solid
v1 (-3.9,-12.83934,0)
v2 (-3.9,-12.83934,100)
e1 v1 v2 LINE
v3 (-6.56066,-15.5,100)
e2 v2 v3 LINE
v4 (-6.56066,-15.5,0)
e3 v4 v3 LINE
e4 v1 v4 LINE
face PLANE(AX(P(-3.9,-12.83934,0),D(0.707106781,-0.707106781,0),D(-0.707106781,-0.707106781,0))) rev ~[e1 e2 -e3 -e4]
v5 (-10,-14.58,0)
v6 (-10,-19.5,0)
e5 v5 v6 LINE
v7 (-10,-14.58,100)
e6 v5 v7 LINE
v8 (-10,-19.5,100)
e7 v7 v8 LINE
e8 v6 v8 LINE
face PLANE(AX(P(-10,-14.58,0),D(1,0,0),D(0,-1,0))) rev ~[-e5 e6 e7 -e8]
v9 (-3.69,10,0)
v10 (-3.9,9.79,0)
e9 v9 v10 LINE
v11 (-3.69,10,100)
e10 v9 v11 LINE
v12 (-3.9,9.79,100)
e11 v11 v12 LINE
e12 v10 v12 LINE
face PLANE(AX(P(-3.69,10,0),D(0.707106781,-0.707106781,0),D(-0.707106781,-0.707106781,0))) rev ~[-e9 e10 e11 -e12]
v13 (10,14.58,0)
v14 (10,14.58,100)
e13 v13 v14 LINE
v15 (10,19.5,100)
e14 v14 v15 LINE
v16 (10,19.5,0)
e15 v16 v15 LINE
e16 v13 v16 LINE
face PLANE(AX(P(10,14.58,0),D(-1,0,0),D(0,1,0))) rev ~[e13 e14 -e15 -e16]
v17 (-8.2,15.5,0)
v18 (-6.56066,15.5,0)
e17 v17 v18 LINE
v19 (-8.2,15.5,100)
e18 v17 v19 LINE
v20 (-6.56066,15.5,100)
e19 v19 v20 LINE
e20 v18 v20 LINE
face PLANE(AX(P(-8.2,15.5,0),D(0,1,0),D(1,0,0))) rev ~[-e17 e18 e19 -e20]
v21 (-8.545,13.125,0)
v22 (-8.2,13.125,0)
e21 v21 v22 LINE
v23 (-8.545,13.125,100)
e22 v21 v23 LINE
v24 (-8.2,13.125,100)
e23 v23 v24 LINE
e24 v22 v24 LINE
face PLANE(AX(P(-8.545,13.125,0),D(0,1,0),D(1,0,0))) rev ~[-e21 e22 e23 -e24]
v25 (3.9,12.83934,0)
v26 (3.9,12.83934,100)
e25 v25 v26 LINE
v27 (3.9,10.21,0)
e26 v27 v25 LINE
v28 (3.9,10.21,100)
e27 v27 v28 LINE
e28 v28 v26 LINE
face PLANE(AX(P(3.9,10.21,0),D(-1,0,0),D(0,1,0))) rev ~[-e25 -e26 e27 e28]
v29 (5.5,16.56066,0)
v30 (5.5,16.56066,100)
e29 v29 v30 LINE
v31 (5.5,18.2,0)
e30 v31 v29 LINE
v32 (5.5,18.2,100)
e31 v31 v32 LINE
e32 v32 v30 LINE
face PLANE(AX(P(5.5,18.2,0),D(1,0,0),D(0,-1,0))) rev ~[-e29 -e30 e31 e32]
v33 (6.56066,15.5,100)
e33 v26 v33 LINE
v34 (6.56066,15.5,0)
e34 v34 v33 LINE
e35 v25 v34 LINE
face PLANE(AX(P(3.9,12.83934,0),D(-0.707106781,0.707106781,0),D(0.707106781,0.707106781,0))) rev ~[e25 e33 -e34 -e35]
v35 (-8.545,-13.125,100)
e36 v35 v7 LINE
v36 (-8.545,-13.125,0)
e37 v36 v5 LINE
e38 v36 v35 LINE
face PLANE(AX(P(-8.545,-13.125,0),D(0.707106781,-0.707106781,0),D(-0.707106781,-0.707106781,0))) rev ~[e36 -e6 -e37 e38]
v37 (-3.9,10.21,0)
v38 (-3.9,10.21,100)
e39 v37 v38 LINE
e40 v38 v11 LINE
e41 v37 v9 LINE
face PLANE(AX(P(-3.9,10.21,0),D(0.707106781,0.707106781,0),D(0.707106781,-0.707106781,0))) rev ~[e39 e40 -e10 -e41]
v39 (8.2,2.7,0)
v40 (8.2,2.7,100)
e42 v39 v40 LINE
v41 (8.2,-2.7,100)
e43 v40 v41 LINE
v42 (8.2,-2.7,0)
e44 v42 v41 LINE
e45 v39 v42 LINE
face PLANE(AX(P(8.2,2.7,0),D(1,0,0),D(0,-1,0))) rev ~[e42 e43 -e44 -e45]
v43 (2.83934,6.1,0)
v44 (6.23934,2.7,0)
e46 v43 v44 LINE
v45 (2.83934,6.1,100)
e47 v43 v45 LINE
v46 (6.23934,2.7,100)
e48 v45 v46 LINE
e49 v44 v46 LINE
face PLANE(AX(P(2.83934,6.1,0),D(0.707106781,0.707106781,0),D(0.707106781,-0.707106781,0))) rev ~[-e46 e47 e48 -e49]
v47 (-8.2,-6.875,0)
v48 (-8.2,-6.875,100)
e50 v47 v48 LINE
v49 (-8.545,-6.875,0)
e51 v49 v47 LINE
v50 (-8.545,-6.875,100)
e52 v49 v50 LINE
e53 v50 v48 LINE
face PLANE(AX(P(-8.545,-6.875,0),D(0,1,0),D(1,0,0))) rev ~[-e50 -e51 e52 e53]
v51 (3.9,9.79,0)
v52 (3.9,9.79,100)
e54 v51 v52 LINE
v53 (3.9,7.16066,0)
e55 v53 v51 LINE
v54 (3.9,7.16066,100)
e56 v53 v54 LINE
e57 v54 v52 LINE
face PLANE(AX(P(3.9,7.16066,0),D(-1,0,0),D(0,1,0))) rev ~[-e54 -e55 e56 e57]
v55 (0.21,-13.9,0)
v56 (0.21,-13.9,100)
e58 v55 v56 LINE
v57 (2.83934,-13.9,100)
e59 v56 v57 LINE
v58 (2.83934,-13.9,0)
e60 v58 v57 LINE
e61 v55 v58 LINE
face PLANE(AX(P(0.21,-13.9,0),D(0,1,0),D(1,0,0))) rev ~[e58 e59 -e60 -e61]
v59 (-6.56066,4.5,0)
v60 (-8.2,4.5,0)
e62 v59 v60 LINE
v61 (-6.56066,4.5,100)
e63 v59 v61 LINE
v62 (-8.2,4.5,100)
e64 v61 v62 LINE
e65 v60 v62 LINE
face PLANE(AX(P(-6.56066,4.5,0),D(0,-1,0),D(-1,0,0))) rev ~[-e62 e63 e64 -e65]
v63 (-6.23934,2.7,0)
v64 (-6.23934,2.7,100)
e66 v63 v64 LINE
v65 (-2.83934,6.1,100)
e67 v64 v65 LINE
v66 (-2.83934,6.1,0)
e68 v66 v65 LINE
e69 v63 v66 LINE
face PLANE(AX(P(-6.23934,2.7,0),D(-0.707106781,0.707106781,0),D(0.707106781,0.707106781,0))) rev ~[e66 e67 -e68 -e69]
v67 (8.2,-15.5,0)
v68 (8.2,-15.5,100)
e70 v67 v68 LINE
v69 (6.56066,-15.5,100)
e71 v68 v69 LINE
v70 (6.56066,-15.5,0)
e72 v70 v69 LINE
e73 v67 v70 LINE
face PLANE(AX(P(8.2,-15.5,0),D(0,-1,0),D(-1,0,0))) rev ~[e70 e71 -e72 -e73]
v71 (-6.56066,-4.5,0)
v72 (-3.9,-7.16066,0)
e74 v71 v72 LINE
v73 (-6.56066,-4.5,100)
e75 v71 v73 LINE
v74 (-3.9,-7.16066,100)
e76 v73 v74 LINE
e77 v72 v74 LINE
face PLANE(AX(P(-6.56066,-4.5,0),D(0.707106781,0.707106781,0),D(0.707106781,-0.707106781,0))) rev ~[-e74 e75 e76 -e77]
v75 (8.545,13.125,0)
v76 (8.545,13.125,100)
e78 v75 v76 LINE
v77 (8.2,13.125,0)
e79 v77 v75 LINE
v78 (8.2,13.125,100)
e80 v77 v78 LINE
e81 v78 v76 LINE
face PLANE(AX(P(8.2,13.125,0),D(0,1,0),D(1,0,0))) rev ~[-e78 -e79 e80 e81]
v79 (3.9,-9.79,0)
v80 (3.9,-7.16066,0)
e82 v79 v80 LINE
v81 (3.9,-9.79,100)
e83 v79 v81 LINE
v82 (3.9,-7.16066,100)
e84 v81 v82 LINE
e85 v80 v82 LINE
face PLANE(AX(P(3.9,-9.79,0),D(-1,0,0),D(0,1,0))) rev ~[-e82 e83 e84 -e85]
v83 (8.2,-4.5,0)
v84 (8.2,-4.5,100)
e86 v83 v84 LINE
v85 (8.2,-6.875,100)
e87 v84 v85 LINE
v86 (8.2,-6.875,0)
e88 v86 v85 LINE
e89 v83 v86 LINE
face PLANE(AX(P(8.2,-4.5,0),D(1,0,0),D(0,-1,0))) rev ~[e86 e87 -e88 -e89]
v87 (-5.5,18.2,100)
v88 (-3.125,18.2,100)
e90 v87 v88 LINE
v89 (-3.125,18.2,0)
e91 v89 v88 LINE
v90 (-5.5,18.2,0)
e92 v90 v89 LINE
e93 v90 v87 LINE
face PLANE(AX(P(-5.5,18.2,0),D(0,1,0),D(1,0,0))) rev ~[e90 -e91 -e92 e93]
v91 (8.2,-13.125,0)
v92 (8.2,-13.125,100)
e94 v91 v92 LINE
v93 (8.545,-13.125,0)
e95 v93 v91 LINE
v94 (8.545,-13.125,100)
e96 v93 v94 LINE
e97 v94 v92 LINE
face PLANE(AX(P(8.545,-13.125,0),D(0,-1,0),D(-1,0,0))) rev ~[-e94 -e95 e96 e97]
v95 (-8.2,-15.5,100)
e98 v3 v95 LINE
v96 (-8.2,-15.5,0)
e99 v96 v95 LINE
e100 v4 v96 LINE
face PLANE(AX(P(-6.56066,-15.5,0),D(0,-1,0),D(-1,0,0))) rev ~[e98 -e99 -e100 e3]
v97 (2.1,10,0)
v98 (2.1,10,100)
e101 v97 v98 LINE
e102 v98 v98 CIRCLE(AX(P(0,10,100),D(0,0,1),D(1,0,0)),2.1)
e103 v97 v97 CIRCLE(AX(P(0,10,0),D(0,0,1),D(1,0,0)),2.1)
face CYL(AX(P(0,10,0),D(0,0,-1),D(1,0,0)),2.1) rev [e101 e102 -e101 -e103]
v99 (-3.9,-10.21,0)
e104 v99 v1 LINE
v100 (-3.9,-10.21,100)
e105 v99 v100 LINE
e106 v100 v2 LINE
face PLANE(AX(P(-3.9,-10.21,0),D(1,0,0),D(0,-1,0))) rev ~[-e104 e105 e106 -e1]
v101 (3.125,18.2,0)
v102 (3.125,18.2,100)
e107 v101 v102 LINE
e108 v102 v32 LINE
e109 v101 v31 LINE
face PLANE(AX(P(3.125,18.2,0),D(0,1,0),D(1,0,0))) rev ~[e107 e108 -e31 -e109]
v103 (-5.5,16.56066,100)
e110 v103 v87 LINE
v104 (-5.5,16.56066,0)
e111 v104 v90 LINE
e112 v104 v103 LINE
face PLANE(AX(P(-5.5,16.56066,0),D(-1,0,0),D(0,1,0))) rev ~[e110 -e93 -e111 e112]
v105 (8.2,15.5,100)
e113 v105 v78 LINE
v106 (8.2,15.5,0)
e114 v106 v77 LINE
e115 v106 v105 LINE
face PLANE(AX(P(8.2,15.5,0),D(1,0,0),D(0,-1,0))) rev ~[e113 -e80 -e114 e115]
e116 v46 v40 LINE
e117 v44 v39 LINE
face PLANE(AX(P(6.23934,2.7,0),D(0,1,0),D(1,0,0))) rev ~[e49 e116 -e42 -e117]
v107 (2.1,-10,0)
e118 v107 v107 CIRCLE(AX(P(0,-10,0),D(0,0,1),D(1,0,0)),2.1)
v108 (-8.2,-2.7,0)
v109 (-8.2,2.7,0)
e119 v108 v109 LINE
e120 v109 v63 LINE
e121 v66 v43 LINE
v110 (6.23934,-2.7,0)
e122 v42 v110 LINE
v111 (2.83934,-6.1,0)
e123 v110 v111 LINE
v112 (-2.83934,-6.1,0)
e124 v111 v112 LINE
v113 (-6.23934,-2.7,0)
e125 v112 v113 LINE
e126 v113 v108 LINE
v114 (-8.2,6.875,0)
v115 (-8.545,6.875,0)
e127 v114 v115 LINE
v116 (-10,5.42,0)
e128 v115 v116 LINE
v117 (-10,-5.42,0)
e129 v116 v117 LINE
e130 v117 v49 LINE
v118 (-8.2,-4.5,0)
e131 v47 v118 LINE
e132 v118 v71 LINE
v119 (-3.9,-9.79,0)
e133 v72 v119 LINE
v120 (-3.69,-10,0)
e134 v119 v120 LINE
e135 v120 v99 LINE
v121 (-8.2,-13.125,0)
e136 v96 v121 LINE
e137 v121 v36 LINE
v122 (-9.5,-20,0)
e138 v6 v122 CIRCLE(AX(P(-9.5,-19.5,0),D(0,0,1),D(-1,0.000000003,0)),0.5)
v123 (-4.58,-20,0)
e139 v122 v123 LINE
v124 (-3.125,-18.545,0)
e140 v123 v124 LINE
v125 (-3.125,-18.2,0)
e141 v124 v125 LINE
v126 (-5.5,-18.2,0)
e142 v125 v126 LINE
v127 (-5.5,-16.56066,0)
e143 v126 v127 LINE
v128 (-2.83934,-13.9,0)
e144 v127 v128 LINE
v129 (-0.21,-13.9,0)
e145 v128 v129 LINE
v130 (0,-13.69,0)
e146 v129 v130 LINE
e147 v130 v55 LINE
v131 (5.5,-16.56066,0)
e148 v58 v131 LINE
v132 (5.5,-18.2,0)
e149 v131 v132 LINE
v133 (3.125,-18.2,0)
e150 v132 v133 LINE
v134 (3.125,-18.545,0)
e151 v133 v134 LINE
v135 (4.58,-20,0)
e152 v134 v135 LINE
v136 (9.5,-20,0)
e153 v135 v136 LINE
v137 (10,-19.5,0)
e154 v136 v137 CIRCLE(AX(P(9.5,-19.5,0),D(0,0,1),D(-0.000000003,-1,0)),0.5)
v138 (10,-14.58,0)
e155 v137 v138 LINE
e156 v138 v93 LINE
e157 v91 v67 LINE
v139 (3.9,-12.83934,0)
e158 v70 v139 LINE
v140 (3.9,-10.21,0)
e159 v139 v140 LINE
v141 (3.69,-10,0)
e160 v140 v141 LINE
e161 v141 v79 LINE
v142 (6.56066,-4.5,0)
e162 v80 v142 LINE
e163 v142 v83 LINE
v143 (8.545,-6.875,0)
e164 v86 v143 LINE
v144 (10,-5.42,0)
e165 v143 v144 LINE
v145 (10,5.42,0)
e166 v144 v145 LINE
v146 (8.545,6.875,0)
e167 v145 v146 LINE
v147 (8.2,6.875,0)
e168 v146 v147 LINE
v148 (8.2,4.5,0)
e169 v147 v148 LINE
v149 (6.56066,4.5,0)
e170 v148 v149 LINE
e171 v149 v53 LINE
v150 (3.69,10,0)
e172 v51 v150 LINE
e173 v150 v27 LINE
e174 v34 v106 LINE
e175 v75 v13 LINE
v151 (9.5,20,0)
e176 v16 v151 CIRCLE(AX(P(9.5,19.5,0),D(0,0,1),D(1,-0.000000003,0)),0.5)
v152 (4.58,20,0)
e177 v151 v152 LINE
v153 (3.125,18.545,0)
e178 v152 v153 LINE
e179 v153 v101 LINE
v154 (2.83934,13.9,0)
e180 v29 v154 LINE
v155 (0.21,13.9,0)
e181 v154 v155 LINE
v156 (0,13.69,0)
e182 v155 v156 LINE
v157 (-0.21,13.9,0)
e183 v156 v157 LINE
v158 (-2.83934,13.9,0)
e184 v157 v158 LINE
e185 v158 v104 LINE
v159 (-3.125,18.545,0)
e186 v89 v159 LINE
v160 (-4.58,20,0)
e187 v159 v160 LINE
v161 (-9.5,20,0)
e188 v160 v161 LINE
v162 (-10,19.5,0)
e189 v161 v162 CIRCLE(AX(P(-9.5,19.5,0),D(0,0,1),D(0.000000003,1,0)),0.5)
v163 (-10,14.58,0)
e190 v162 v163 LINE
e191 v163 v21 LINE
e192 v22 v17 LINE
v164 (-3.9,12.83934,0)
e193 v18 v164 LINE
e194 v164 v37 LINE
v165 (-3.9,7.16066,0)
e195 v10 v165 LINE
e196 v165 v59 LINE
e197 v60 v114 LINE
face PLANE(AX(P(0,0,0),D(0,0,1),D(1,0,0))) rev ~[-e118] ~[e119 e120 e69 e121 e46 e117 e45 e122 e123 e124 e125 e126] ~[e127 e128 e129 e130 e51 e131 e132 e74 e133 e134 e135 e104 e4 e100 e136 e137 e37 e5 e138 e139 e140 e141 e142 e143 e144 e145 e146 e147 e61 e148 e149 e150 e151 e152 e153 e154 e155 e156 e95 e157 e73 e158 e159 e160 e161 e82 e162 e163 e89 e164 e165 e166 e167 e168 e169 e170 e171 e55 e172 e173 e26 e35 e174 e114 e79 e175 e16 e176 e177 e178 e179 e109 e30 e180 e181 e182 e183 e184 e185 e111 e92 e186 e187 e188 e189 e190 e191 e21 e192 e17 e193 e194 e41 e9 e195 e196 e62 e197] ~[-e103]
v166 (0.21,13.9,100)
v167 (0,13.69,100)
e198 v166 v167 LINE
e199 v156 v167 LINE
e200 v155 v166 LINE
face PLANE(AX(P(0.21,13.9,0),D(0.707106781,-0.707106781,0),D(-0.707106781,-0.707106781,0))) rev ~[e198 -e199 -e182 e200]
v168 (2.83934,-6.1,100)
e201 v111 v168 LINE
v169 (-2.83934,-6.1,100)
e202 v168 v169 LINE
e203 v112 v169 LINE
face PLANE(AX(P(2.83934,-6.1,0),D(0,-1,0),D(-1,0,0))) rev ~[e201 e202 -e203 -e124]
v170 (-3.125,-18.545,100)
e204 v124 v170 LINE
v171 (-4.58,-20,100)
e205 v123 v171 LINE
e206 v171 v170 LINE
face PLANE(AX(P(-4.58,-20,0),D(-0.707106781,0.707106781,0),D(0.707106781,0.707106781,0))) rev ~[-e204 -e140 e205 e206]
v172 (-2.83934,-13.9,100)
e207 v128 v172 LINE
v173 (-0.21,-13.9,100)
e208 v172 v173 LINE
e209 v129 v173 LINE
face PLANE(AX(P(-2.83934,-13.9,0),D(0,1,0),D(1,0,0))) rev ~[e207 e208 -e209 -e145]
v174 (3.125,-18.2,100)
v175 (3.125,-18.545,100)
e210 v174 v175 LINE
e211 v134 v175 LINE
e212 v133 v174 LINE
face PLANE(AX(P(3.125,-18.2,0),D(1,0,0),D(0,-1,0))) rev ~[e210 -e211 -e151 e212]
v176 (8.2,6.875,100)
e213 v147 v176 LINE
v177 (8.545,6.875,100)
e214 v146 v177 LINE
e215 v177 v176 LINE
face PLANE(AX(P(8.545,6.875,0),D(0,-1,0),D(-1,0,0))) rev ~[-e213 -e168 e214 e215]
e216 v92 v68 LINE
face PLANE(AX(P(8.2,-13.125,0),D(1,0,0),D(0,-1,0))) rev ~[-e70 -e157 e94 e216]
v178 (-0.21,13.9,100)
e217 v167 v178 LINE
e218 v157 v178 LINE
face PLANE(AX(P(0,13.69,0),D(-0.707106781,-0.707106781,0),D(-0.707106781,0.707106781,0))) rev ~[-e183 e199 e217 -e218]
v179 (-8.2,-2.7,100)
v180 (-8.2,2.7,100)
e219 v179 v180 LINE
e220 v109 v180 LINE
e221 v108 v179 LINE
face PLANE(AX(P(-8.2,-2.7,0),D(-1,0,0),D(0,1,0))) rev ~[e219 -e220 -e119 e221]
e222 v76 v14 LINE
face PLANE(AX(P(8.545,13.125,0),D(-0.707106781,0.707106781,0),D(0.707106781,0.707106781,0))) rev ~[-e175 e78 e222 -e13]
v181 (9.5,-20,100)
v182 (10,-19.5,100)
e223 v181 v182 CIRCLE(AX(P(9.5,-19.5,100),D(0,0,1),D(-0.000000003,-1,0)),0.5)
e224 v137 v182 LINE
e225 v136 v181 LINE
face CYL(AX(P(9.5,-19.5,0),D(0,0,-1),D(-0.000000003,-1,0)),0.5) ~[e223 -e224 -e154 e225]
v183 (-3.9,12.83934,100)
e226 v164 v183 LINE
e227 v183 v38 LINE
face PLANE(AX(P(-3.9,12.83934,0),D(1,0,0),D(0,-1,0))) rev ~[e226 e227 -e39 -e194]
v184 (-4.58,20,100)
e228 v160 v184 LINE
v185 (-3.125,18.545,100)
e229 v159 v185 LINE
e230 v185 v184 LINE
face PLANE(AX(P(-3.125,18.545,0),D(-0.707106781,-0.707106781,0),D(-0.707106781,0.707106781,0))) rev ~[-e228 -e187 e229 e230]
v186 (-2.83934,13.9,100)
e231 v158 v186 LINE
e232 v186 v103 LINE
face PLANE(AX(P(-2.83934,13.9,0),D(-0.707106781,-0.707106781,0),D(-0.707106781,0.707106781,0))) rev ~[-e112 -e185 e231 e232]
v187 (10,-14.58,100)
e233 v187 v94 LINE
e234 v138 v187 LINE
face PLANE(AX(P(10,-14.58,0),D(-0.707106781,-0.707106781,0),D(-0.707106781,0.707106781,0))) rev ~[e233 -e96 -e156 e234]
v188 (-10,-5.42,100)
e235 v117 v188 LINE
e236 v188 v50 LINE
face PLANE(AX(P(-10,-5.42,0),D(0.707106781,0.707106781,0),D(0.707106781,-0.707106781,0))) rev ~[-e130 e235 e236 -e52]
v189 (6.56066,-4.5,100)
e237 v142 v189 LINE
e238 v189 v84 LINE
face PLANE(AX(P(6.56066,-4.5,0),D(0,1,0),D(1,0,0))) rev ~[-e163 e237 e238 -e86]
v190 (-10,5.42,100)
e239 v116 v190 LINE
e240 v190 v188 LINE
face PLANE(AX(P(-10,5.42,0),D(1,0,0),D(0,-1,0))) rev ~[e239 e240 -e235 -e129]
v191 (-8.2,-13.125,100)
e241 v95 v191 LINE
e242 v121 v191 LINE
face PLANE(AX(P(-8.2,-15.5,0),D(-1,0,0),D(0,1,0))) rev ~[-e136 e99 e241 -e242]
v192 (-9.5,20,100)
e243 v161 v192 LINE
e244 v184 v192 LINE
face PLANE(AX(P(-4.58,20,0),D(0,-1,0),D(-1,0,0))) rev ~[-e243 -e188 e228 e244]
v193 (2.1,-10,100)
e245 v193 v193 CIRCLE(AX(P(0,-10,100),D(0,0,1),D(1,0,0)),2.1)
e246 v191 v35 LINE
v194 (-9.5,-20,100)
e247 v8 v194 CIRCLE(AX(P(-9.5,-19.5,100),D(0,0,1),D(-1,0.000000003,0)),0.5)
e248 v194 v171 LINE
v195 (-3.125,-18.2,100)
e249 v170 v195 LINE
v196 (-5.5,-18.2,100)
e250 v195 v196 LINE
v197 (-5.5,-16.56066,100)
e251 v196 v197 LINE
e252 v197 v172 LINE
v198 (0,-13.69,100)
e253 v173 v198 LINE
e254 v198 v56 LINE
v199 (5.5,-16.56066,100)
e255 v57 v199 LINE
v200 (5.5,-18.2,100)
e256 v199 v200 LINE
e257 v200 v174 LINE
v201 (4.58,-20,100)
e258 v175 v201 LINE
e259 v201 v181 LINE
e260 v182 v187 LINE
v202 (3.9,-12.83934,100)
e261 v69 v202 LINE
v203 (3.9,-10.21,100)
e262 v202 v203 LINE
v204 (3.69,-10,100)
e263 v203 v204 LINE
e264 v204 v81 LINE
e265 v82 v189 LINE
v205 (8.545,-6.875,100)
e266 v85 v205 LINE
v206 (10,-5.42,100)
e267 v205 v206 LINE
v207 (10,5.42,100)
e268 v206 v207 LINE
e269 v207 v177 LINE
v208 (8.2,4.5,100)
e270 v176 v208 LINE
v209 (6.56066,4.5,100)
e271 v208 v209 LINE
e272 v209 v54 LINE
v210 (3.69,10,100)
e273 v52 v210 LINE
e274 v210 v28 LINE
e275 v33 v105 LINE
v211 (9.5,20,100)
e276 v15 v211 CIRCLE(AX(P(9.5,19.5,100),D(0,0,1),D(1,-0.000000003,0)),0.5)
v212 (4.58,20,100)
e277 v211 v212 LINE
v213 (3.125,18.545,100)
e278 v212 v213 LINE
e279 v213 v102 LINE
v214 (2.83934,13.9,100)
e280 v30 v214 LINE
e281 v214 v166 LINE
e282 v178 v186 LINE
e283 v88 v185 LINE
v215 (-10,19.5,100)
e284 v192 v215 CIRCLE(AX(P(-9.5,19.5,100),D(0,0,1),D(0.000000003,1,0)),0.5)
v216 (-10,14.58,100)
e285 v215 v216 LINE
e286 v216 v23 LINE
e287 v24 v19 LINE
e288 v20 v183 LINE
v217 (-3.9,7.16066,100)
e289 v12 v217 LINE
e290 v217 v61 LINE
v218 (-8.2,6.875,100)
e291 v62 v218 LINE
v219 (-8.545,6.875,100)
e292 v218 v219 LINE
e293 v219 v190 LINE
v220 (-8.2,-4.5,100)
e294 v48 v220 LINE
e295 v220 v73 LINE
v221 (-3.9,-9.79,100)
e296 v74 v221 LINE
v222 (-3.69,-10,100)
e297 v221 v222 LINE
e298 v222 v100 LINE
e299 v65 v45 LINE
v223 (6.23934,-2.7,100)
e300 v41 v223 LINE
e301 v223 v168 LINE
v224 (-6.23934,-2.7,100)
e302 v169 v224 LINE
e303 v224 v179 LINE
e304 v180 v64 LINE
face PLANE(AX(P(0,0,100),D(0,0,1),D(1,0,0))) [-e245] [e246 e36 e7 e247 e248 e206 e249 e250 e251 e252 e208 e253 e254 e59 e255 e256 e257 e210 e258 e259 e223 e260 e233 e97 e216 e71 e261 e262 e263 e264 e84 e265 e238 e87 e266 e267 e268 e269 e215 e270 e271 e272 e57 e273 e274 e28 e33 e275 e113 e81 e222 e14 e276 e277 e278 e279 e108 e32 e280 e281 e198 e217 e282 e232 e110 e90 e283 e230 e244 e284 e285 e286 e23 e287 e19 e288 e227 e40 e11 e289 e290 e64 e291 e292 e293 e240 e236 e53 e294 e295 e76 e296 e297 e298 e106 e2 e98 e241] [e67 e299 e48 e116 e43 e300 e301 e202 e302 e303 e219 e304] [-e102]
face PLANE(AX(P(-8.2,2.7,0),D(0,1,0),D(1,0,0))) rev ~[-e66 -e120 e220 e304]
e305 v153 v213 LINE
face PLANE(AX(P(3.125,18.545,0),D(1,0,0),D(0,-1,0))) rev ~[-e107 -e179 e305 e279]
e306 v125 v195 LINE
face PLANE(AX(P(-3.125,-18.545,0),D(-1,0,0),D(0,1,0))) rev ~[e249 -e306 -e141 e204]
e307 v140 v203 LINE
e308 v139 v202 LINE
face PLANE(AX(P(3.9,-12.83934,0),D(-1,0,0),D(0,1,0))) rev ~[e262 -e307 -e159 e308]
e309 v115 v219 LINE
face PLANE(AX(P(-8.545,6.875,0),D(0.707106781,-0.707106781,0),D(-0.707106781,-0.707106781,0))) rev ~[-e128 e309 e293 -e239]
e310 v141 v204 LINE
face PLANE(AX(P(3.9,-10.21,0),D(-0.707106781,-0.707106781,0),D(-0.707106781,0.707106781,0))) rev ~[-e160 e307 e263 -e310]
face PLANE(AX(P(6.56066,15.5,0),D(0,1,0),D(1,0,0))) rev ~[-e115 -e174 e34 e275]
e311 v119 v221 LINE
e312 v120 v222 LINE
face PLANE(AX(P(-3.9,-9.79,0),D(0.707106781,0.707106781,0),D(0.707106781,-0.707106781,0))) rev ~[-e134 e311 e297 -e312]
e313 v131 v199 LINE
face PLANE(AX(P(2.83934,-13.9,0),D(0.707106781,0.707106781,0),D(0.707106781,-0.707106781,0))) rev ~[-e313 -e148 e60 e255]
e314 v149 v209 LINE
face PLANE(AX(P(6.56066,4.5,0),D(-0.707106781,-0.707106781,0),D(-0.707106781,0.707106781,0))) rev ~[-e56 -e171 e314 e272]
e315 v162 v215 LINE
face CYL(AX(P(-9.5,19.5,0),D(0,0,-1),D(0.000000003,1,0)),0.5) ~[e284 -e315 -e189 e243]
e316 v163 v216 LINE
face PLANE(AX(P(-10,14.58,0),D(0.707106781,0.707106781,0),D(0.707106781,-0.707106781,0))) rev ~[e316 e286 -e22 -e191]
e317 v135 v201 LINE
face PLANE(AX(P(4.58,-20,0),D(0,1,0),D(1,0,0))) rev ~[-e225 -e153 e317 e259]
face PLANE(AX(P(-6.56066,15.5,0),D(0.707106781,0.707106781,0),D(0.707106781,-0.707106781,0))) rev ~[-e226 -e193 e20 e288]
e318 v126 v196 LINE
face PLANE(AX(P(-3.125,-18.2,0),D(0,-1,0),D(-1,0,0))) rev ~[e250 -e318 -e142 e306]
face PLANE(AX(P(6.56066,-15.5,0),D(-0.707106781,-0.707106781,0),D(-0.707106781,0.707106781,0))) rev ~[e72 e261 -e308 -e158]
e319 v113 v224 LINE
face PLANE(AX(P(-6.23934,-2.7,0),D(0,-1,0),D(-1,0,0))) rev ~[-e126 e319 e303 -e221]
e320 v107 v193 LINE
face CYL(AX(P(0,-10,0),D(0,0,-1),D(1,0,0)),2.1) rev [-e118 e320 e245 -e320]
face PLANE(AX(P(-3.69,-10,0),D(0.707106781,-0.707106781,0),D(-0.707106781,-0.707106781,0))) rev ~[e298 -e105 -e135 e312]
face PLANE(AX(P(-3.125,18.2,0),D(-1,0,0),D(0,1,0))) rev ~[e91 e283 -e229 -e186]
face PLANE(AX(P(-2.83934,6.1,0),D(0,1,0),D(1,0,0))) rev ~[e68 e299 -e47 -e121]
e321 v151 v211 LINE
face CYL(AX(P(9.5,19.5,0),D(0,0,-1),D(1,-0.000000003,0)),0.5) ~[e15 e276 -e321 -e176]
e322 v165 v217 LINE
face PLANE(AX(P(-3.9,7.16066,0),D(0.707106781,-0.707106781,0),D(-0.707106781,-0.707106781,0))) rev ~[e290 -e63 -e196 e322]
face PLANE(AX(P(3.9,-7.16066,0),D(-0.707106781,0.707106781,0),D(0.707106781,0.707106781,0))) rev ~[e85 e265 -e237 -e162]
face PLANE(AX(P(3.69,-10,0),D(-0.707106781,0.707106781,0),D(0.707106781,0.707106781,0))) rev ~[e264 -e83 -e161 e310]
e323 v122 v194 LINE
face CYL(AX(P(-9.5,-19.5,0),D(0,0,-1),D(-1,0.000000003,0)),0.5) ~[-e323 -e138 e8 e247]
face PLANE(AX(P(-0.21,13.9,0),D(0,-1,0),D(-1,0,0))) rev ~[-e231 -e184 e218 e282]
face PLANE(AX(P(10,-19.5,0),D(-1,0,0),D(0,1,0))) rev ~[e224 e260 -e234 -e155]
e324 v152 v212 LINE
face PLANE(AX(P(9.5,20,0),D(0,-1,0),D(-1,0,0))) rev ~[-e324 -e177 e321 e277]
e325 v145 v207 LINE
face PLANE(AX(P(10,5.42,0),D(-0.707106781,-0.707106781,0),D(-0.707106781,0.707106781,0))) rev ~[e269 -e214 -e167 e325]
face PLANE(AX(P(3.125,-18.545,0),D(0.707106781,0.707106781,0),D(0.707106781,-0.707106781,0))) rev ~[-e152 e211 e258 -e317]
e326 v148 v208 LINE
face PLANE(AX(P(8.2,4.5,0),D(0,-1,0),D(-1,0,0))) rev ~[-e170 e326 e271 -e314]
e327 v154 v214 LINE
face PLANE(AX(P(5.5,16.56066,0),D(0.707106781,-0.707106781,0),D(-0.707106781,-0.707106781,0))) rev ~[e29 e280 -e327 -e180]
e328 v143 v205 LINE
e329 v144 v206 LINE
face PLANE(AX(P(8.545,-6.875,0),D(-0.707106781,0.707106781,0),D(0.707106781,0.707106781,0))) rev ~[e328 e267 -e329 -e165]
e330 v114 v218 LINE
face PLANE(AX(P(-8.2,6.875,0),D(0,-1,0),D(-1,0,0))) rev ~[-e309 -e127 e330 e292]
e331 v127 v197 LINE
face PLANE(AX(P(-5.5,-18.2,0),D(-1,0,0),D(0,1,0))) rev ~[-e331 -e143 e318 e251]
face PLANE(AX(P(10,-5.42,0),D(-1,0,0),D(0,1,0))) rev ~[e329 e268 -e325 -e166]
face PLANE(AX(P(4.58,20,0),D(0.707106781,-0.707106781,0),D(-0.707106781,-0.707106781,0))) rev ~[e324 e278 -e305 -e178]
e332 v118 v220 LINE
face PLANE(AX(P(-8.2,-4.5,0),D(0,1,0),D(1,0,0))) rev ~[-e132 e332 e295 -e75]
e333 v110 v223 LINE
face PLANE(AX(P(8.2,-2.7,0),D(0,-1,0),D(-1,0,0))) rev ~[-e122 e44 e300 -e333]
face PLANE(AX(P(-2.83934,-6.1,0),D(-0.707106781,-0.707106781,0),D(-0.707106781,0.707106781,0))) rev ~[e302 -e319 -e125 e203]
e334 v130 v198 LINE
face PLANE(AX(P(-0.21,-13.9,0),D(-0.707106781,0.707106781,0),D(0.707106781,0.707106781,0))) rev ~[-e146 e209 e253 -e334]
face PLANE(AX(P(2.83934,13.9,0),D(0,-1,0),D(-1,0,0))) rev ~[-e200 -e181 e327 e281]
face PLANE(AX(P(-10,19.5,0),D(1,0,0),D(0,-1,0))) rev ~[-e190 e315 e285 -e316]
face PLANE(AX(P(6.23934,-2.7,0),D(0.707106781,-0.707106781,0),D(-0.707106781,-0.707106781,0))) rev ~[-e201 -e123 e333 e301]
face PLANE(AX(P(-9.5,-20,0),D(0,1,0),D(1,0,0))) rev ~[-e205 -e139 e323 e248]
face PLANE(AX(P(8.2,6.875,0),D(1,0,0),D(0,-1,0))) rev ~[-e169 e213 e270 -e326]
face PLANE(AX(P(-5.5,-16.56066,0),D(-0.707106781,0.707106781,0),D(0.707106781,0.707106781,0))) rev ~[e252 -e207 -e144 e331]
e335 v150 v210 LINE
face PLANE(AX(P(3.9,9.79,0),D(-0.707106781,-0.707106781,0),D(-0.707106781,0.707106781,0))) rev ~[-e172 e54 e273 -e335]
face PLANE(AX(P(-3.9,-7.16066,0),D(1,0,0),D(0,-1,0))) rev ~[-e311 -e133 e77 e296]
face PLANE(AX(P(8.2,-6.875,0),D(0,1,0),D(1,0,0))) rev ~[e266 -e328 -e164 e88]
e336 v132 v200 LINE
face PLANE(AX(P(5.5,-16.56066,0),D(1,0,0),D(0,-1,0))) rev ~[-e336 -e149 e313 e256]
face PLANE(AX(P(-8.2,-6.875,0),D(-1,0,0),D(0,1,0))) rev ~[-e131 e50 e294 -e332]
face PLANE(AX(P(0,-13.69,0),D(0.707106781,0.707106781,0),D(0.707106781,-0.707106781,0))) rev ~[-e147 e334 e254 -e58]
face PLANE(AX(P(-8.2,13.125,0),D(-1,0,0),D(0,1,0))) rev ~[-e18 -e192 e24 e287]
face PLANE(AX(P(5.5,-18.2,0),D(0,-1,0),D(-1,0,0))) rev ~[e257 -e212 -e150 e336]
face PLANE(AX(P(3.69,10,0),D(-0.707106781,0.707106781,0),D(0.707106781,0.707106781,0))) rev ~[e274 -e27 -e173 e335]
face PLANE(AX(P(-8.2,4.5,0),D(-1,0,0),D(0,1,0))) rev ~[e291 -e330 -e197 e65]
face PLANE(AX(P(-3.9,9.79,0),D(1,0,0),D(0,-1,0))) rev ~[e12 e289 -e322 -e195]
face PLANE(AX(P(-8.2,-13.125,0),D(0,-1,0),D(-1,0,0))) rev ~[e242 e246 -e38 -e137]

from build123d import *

# Parameters (mm, degrees)
SKETCH1_R           = 2.1
BOSS_EXTRUDE1_DEPTH = 100


with BuildPart() as part:
    # Sketch1 → Boss-Extrude1 (new body)
    with BuildSketch(Plane.XY):
        with BuildLine():
            Line((4.58, -20), (9.5, -20))
            ThreePointArc((9.5, -20), (9.853553391, -19.853553391), (10, -19.5))
            Line((10, -19.5), (10, -14.58))
            Line((10, -14.58), (8.545, -13.125))
            Line((8.545, -13.125), (8.2, -13.125))
            Line((8.2, -13.125), (8.2, -15.5))
            Line((8.2, -15.5), (6.560660172, -15.5))
            Line((6.560660172, -15.5), (3.9, -12.839339828))
            Line((3.9, -12.839339828), (3.9, -10.21))
            Line((3.9, -10.21), (3.69, -10))
            Line((3.69, -10), (3.9, -9.79))
            Line((3.9, -9.79), (3.9, -7.160660172))
            Line((3.9, -7.160660172), (6.560660172, -4.5))
            Line((6.560660172, -4.5), (8.2, -4.5))
            Line((8.2, -4.5), (8.2, -6.875))
            Line((8.2, -6.875), (8.545, -6.875))
            Line((8.545, -6.875), (10, -5.42))
            Line((10, -5.42), (10, 5.42))
            Line((10, 5.42), (8.545, 6.875))
            Line((8.545, 6.875), (8.2, 6.875))
            Line((8.2, 6.875), (8.2, 4.5))
            Line((8.2, 4.5), (6.560660172, 4.5))
            Line((6.560660172, 4.5), (3.9, 7.160660172))
            Line((3.9, 7.160660172), (3.9, 9.79))
            Line((3.9, 9.79), (3.69, 10))
            Line((3.69, 10), (3.9, 10.21))
            Line((3.9, 10.21), (3.9, 12.839339828))
            Line((3.9, 12.839339828), (6.560660172, 15.5))
            Line((6.560660172, 15.5), (8.2, 15.5))
            Line((8.2, 15.5), (8.2, 13.125))
            Line((8.2, 13.125), (8.545, 13.125))
            Line((8.545, 13.125), (10, 14.58))
            Line((10, 14.58), (10, 19.5))
            ThreePointArc((10, 19.5), (9.853553391, 19.853553391), (9.5, 20))
            Line((9.5, 20), (4.58, 20))
            Line((4.58, 20), (3.125, 18.545))
            Line((3.125, 18.545), (3.125, 18.2))
            Line((3.125, 18.2), (5.5, 18.2))
            Line((5.5, 18.2), (5.5, 16.560660172))
            Line((5.5, 16.560660172), (2.839339828, 13.9))
            Line((2.839339828, 13.9), (0.21, 13.9))
            Line((0.21, 13.9), (0, 13.69))
            Line((0, 13.69), (-0.21, 13.9))
            Line((-0.21, 13.9), (-2.839339828, 13.9))
            Line((-2.839339828, 13.9), (-5.5, 16.560660172))
            Line((-5.5, 16.560660172), (-5.5, 18.2))
            Line((-5.5, 18.2), (-3.125, 18.2))
            Line((-3.125, 18.2), (-3.125, 18.545))
            Line((-3.125, 18.545), (-4.58, 20))
            Line((-4.58, 20), (-9.5, 20))
            ThreePointArc((-9.5, 20), (-9.853553391, 19.853553391), (-10, 19.5))
            Line((-10, 19.5), (-10, 14.58))
            Line((-10, 14.58), (-8.545, 13.125))
            Line((-8.545, 13.125), (-8.2, 13.125))
            Line((-8.2, 13.125), (-8.2, 15.5))
            Line((-8.2, 15.5), (-6.560660172, 15.5))
            Line((-6.560660172, 15.5), (-3.9, 12.839339828))
            Line((-3.9, 12.839339828), (-3.9, 10.21))
            Line((-3.9, 10.21), (-3.69, 10))
            Line((-3.69, 10), (-3.9, 9.79))
            Line((-3.9, 9.79), (-3.9, 7.160660172))
            Line((-3.9, 7.160660172), (-6.560660172, 4.5))
            Line((-6.560660172, 4.5), (-8.2, 4.5))
            Line((-8.2, 4.5), (-8.2, 6.875))
            Line((-8.2, 6.875), (-8.545, 6.875))
            Line((-8.545, 6.875), (-10, 5.42))
            Line((-10, 5.42), (-10, -5.42))
            Line((-10, -5.42), (-8.545, -6.875))
            Line((-8.545, -6.875), (-8.2, -6.875))
            Line((-8.2, -6.875), (-8.2, -4.5))
            Line((-8.2, -4.5), (-6.560660172, -4.5))
            Line((-6.560660172, -4.5), (-3.9, -7.160660172))
            Line((-3.9, -7.160660172), (-3.9, -9.79))
            Line((-3.9, -9.79), (-3.69, -10))
            Line((-3.69, -10), (-3.9, -10.21))
            Line((-3.9, -10.21), (-3.9, -12.839339828))
            Line((-3.9, -12.839339828), (-6.560660172, -15.5))
            Line((-6.560660172, -15.5), (-8.2, -15.5))
            Line((-8.2, -15.5), (-8.2, -13.125))
            Line((-8.2, -13.125), (-8.545, -13.125))
            Line((-8.545, -13.125), (-10, -14.58))
            Line((-10, -14.58), (-10, -19.5))
            ThreePointArc((-10, -19.5), (-9.853553391, -19.853553391), (-9.5, -20))
            Line((-9.5, -20), (-4.58, -20))
            Line((-4.58, -20), (-3.125, -18.545))
            Line((-3.125, -18.545), (-3.125, -18.2))
            Line((-3.125, -18.2), (-5.5, -18.2))
            Line((-5.5, -18.2), (-5.5, -16.560660172))
            Line((-5.5, -16.560660172), (-2.839339828, -13.9))
            Line((-2.839339828, -13.9), (-0.21, -13.9))
            Line((-0.21, -13.9), (0, -13.69))
            Line((0, -13.69), (0.21, -13.9))
            Line((0.21, -13.9), (2.839339828, -13.9))
            Line((2.839339828, -13.9), (5.5, -16.560660172))
            Line((5.5, -16.560660172), (5.5, -18.2))
            Line((5.5, -18.2), (3.125, -18.2))
            Line((3.125, -18.2), (3.125, -18.545))
            Line((3.125, -18.545), (4.58, -20))
        make_face()
        with Locations((0, -10)):
            Circle(SKETCH1_R, mode=Mode.SUBTRACT)
        Polygon((-6.239339828, -2.7), (-8.2, -2.7), (-8.2, 2.7), (-6.239339828, 2.7), (-2.839339828, 6.1), (2.839339828, 6.1), (6.239339828, 2.7), (8.2, 2.7), (8.2, -2.7), (6.239339828, -2.7), (2.839339828, -6.1), (-2.839339828, -6.1), align=None, mode=Mode.SUBTRACT)
        with Locations((0, 10)):
            Circle(SKETCH1_R, mode=Mode.SUBTRACT)
    extrude(amount=BOSS_EXTRUDE1_DEPTH)


solid = part.part
